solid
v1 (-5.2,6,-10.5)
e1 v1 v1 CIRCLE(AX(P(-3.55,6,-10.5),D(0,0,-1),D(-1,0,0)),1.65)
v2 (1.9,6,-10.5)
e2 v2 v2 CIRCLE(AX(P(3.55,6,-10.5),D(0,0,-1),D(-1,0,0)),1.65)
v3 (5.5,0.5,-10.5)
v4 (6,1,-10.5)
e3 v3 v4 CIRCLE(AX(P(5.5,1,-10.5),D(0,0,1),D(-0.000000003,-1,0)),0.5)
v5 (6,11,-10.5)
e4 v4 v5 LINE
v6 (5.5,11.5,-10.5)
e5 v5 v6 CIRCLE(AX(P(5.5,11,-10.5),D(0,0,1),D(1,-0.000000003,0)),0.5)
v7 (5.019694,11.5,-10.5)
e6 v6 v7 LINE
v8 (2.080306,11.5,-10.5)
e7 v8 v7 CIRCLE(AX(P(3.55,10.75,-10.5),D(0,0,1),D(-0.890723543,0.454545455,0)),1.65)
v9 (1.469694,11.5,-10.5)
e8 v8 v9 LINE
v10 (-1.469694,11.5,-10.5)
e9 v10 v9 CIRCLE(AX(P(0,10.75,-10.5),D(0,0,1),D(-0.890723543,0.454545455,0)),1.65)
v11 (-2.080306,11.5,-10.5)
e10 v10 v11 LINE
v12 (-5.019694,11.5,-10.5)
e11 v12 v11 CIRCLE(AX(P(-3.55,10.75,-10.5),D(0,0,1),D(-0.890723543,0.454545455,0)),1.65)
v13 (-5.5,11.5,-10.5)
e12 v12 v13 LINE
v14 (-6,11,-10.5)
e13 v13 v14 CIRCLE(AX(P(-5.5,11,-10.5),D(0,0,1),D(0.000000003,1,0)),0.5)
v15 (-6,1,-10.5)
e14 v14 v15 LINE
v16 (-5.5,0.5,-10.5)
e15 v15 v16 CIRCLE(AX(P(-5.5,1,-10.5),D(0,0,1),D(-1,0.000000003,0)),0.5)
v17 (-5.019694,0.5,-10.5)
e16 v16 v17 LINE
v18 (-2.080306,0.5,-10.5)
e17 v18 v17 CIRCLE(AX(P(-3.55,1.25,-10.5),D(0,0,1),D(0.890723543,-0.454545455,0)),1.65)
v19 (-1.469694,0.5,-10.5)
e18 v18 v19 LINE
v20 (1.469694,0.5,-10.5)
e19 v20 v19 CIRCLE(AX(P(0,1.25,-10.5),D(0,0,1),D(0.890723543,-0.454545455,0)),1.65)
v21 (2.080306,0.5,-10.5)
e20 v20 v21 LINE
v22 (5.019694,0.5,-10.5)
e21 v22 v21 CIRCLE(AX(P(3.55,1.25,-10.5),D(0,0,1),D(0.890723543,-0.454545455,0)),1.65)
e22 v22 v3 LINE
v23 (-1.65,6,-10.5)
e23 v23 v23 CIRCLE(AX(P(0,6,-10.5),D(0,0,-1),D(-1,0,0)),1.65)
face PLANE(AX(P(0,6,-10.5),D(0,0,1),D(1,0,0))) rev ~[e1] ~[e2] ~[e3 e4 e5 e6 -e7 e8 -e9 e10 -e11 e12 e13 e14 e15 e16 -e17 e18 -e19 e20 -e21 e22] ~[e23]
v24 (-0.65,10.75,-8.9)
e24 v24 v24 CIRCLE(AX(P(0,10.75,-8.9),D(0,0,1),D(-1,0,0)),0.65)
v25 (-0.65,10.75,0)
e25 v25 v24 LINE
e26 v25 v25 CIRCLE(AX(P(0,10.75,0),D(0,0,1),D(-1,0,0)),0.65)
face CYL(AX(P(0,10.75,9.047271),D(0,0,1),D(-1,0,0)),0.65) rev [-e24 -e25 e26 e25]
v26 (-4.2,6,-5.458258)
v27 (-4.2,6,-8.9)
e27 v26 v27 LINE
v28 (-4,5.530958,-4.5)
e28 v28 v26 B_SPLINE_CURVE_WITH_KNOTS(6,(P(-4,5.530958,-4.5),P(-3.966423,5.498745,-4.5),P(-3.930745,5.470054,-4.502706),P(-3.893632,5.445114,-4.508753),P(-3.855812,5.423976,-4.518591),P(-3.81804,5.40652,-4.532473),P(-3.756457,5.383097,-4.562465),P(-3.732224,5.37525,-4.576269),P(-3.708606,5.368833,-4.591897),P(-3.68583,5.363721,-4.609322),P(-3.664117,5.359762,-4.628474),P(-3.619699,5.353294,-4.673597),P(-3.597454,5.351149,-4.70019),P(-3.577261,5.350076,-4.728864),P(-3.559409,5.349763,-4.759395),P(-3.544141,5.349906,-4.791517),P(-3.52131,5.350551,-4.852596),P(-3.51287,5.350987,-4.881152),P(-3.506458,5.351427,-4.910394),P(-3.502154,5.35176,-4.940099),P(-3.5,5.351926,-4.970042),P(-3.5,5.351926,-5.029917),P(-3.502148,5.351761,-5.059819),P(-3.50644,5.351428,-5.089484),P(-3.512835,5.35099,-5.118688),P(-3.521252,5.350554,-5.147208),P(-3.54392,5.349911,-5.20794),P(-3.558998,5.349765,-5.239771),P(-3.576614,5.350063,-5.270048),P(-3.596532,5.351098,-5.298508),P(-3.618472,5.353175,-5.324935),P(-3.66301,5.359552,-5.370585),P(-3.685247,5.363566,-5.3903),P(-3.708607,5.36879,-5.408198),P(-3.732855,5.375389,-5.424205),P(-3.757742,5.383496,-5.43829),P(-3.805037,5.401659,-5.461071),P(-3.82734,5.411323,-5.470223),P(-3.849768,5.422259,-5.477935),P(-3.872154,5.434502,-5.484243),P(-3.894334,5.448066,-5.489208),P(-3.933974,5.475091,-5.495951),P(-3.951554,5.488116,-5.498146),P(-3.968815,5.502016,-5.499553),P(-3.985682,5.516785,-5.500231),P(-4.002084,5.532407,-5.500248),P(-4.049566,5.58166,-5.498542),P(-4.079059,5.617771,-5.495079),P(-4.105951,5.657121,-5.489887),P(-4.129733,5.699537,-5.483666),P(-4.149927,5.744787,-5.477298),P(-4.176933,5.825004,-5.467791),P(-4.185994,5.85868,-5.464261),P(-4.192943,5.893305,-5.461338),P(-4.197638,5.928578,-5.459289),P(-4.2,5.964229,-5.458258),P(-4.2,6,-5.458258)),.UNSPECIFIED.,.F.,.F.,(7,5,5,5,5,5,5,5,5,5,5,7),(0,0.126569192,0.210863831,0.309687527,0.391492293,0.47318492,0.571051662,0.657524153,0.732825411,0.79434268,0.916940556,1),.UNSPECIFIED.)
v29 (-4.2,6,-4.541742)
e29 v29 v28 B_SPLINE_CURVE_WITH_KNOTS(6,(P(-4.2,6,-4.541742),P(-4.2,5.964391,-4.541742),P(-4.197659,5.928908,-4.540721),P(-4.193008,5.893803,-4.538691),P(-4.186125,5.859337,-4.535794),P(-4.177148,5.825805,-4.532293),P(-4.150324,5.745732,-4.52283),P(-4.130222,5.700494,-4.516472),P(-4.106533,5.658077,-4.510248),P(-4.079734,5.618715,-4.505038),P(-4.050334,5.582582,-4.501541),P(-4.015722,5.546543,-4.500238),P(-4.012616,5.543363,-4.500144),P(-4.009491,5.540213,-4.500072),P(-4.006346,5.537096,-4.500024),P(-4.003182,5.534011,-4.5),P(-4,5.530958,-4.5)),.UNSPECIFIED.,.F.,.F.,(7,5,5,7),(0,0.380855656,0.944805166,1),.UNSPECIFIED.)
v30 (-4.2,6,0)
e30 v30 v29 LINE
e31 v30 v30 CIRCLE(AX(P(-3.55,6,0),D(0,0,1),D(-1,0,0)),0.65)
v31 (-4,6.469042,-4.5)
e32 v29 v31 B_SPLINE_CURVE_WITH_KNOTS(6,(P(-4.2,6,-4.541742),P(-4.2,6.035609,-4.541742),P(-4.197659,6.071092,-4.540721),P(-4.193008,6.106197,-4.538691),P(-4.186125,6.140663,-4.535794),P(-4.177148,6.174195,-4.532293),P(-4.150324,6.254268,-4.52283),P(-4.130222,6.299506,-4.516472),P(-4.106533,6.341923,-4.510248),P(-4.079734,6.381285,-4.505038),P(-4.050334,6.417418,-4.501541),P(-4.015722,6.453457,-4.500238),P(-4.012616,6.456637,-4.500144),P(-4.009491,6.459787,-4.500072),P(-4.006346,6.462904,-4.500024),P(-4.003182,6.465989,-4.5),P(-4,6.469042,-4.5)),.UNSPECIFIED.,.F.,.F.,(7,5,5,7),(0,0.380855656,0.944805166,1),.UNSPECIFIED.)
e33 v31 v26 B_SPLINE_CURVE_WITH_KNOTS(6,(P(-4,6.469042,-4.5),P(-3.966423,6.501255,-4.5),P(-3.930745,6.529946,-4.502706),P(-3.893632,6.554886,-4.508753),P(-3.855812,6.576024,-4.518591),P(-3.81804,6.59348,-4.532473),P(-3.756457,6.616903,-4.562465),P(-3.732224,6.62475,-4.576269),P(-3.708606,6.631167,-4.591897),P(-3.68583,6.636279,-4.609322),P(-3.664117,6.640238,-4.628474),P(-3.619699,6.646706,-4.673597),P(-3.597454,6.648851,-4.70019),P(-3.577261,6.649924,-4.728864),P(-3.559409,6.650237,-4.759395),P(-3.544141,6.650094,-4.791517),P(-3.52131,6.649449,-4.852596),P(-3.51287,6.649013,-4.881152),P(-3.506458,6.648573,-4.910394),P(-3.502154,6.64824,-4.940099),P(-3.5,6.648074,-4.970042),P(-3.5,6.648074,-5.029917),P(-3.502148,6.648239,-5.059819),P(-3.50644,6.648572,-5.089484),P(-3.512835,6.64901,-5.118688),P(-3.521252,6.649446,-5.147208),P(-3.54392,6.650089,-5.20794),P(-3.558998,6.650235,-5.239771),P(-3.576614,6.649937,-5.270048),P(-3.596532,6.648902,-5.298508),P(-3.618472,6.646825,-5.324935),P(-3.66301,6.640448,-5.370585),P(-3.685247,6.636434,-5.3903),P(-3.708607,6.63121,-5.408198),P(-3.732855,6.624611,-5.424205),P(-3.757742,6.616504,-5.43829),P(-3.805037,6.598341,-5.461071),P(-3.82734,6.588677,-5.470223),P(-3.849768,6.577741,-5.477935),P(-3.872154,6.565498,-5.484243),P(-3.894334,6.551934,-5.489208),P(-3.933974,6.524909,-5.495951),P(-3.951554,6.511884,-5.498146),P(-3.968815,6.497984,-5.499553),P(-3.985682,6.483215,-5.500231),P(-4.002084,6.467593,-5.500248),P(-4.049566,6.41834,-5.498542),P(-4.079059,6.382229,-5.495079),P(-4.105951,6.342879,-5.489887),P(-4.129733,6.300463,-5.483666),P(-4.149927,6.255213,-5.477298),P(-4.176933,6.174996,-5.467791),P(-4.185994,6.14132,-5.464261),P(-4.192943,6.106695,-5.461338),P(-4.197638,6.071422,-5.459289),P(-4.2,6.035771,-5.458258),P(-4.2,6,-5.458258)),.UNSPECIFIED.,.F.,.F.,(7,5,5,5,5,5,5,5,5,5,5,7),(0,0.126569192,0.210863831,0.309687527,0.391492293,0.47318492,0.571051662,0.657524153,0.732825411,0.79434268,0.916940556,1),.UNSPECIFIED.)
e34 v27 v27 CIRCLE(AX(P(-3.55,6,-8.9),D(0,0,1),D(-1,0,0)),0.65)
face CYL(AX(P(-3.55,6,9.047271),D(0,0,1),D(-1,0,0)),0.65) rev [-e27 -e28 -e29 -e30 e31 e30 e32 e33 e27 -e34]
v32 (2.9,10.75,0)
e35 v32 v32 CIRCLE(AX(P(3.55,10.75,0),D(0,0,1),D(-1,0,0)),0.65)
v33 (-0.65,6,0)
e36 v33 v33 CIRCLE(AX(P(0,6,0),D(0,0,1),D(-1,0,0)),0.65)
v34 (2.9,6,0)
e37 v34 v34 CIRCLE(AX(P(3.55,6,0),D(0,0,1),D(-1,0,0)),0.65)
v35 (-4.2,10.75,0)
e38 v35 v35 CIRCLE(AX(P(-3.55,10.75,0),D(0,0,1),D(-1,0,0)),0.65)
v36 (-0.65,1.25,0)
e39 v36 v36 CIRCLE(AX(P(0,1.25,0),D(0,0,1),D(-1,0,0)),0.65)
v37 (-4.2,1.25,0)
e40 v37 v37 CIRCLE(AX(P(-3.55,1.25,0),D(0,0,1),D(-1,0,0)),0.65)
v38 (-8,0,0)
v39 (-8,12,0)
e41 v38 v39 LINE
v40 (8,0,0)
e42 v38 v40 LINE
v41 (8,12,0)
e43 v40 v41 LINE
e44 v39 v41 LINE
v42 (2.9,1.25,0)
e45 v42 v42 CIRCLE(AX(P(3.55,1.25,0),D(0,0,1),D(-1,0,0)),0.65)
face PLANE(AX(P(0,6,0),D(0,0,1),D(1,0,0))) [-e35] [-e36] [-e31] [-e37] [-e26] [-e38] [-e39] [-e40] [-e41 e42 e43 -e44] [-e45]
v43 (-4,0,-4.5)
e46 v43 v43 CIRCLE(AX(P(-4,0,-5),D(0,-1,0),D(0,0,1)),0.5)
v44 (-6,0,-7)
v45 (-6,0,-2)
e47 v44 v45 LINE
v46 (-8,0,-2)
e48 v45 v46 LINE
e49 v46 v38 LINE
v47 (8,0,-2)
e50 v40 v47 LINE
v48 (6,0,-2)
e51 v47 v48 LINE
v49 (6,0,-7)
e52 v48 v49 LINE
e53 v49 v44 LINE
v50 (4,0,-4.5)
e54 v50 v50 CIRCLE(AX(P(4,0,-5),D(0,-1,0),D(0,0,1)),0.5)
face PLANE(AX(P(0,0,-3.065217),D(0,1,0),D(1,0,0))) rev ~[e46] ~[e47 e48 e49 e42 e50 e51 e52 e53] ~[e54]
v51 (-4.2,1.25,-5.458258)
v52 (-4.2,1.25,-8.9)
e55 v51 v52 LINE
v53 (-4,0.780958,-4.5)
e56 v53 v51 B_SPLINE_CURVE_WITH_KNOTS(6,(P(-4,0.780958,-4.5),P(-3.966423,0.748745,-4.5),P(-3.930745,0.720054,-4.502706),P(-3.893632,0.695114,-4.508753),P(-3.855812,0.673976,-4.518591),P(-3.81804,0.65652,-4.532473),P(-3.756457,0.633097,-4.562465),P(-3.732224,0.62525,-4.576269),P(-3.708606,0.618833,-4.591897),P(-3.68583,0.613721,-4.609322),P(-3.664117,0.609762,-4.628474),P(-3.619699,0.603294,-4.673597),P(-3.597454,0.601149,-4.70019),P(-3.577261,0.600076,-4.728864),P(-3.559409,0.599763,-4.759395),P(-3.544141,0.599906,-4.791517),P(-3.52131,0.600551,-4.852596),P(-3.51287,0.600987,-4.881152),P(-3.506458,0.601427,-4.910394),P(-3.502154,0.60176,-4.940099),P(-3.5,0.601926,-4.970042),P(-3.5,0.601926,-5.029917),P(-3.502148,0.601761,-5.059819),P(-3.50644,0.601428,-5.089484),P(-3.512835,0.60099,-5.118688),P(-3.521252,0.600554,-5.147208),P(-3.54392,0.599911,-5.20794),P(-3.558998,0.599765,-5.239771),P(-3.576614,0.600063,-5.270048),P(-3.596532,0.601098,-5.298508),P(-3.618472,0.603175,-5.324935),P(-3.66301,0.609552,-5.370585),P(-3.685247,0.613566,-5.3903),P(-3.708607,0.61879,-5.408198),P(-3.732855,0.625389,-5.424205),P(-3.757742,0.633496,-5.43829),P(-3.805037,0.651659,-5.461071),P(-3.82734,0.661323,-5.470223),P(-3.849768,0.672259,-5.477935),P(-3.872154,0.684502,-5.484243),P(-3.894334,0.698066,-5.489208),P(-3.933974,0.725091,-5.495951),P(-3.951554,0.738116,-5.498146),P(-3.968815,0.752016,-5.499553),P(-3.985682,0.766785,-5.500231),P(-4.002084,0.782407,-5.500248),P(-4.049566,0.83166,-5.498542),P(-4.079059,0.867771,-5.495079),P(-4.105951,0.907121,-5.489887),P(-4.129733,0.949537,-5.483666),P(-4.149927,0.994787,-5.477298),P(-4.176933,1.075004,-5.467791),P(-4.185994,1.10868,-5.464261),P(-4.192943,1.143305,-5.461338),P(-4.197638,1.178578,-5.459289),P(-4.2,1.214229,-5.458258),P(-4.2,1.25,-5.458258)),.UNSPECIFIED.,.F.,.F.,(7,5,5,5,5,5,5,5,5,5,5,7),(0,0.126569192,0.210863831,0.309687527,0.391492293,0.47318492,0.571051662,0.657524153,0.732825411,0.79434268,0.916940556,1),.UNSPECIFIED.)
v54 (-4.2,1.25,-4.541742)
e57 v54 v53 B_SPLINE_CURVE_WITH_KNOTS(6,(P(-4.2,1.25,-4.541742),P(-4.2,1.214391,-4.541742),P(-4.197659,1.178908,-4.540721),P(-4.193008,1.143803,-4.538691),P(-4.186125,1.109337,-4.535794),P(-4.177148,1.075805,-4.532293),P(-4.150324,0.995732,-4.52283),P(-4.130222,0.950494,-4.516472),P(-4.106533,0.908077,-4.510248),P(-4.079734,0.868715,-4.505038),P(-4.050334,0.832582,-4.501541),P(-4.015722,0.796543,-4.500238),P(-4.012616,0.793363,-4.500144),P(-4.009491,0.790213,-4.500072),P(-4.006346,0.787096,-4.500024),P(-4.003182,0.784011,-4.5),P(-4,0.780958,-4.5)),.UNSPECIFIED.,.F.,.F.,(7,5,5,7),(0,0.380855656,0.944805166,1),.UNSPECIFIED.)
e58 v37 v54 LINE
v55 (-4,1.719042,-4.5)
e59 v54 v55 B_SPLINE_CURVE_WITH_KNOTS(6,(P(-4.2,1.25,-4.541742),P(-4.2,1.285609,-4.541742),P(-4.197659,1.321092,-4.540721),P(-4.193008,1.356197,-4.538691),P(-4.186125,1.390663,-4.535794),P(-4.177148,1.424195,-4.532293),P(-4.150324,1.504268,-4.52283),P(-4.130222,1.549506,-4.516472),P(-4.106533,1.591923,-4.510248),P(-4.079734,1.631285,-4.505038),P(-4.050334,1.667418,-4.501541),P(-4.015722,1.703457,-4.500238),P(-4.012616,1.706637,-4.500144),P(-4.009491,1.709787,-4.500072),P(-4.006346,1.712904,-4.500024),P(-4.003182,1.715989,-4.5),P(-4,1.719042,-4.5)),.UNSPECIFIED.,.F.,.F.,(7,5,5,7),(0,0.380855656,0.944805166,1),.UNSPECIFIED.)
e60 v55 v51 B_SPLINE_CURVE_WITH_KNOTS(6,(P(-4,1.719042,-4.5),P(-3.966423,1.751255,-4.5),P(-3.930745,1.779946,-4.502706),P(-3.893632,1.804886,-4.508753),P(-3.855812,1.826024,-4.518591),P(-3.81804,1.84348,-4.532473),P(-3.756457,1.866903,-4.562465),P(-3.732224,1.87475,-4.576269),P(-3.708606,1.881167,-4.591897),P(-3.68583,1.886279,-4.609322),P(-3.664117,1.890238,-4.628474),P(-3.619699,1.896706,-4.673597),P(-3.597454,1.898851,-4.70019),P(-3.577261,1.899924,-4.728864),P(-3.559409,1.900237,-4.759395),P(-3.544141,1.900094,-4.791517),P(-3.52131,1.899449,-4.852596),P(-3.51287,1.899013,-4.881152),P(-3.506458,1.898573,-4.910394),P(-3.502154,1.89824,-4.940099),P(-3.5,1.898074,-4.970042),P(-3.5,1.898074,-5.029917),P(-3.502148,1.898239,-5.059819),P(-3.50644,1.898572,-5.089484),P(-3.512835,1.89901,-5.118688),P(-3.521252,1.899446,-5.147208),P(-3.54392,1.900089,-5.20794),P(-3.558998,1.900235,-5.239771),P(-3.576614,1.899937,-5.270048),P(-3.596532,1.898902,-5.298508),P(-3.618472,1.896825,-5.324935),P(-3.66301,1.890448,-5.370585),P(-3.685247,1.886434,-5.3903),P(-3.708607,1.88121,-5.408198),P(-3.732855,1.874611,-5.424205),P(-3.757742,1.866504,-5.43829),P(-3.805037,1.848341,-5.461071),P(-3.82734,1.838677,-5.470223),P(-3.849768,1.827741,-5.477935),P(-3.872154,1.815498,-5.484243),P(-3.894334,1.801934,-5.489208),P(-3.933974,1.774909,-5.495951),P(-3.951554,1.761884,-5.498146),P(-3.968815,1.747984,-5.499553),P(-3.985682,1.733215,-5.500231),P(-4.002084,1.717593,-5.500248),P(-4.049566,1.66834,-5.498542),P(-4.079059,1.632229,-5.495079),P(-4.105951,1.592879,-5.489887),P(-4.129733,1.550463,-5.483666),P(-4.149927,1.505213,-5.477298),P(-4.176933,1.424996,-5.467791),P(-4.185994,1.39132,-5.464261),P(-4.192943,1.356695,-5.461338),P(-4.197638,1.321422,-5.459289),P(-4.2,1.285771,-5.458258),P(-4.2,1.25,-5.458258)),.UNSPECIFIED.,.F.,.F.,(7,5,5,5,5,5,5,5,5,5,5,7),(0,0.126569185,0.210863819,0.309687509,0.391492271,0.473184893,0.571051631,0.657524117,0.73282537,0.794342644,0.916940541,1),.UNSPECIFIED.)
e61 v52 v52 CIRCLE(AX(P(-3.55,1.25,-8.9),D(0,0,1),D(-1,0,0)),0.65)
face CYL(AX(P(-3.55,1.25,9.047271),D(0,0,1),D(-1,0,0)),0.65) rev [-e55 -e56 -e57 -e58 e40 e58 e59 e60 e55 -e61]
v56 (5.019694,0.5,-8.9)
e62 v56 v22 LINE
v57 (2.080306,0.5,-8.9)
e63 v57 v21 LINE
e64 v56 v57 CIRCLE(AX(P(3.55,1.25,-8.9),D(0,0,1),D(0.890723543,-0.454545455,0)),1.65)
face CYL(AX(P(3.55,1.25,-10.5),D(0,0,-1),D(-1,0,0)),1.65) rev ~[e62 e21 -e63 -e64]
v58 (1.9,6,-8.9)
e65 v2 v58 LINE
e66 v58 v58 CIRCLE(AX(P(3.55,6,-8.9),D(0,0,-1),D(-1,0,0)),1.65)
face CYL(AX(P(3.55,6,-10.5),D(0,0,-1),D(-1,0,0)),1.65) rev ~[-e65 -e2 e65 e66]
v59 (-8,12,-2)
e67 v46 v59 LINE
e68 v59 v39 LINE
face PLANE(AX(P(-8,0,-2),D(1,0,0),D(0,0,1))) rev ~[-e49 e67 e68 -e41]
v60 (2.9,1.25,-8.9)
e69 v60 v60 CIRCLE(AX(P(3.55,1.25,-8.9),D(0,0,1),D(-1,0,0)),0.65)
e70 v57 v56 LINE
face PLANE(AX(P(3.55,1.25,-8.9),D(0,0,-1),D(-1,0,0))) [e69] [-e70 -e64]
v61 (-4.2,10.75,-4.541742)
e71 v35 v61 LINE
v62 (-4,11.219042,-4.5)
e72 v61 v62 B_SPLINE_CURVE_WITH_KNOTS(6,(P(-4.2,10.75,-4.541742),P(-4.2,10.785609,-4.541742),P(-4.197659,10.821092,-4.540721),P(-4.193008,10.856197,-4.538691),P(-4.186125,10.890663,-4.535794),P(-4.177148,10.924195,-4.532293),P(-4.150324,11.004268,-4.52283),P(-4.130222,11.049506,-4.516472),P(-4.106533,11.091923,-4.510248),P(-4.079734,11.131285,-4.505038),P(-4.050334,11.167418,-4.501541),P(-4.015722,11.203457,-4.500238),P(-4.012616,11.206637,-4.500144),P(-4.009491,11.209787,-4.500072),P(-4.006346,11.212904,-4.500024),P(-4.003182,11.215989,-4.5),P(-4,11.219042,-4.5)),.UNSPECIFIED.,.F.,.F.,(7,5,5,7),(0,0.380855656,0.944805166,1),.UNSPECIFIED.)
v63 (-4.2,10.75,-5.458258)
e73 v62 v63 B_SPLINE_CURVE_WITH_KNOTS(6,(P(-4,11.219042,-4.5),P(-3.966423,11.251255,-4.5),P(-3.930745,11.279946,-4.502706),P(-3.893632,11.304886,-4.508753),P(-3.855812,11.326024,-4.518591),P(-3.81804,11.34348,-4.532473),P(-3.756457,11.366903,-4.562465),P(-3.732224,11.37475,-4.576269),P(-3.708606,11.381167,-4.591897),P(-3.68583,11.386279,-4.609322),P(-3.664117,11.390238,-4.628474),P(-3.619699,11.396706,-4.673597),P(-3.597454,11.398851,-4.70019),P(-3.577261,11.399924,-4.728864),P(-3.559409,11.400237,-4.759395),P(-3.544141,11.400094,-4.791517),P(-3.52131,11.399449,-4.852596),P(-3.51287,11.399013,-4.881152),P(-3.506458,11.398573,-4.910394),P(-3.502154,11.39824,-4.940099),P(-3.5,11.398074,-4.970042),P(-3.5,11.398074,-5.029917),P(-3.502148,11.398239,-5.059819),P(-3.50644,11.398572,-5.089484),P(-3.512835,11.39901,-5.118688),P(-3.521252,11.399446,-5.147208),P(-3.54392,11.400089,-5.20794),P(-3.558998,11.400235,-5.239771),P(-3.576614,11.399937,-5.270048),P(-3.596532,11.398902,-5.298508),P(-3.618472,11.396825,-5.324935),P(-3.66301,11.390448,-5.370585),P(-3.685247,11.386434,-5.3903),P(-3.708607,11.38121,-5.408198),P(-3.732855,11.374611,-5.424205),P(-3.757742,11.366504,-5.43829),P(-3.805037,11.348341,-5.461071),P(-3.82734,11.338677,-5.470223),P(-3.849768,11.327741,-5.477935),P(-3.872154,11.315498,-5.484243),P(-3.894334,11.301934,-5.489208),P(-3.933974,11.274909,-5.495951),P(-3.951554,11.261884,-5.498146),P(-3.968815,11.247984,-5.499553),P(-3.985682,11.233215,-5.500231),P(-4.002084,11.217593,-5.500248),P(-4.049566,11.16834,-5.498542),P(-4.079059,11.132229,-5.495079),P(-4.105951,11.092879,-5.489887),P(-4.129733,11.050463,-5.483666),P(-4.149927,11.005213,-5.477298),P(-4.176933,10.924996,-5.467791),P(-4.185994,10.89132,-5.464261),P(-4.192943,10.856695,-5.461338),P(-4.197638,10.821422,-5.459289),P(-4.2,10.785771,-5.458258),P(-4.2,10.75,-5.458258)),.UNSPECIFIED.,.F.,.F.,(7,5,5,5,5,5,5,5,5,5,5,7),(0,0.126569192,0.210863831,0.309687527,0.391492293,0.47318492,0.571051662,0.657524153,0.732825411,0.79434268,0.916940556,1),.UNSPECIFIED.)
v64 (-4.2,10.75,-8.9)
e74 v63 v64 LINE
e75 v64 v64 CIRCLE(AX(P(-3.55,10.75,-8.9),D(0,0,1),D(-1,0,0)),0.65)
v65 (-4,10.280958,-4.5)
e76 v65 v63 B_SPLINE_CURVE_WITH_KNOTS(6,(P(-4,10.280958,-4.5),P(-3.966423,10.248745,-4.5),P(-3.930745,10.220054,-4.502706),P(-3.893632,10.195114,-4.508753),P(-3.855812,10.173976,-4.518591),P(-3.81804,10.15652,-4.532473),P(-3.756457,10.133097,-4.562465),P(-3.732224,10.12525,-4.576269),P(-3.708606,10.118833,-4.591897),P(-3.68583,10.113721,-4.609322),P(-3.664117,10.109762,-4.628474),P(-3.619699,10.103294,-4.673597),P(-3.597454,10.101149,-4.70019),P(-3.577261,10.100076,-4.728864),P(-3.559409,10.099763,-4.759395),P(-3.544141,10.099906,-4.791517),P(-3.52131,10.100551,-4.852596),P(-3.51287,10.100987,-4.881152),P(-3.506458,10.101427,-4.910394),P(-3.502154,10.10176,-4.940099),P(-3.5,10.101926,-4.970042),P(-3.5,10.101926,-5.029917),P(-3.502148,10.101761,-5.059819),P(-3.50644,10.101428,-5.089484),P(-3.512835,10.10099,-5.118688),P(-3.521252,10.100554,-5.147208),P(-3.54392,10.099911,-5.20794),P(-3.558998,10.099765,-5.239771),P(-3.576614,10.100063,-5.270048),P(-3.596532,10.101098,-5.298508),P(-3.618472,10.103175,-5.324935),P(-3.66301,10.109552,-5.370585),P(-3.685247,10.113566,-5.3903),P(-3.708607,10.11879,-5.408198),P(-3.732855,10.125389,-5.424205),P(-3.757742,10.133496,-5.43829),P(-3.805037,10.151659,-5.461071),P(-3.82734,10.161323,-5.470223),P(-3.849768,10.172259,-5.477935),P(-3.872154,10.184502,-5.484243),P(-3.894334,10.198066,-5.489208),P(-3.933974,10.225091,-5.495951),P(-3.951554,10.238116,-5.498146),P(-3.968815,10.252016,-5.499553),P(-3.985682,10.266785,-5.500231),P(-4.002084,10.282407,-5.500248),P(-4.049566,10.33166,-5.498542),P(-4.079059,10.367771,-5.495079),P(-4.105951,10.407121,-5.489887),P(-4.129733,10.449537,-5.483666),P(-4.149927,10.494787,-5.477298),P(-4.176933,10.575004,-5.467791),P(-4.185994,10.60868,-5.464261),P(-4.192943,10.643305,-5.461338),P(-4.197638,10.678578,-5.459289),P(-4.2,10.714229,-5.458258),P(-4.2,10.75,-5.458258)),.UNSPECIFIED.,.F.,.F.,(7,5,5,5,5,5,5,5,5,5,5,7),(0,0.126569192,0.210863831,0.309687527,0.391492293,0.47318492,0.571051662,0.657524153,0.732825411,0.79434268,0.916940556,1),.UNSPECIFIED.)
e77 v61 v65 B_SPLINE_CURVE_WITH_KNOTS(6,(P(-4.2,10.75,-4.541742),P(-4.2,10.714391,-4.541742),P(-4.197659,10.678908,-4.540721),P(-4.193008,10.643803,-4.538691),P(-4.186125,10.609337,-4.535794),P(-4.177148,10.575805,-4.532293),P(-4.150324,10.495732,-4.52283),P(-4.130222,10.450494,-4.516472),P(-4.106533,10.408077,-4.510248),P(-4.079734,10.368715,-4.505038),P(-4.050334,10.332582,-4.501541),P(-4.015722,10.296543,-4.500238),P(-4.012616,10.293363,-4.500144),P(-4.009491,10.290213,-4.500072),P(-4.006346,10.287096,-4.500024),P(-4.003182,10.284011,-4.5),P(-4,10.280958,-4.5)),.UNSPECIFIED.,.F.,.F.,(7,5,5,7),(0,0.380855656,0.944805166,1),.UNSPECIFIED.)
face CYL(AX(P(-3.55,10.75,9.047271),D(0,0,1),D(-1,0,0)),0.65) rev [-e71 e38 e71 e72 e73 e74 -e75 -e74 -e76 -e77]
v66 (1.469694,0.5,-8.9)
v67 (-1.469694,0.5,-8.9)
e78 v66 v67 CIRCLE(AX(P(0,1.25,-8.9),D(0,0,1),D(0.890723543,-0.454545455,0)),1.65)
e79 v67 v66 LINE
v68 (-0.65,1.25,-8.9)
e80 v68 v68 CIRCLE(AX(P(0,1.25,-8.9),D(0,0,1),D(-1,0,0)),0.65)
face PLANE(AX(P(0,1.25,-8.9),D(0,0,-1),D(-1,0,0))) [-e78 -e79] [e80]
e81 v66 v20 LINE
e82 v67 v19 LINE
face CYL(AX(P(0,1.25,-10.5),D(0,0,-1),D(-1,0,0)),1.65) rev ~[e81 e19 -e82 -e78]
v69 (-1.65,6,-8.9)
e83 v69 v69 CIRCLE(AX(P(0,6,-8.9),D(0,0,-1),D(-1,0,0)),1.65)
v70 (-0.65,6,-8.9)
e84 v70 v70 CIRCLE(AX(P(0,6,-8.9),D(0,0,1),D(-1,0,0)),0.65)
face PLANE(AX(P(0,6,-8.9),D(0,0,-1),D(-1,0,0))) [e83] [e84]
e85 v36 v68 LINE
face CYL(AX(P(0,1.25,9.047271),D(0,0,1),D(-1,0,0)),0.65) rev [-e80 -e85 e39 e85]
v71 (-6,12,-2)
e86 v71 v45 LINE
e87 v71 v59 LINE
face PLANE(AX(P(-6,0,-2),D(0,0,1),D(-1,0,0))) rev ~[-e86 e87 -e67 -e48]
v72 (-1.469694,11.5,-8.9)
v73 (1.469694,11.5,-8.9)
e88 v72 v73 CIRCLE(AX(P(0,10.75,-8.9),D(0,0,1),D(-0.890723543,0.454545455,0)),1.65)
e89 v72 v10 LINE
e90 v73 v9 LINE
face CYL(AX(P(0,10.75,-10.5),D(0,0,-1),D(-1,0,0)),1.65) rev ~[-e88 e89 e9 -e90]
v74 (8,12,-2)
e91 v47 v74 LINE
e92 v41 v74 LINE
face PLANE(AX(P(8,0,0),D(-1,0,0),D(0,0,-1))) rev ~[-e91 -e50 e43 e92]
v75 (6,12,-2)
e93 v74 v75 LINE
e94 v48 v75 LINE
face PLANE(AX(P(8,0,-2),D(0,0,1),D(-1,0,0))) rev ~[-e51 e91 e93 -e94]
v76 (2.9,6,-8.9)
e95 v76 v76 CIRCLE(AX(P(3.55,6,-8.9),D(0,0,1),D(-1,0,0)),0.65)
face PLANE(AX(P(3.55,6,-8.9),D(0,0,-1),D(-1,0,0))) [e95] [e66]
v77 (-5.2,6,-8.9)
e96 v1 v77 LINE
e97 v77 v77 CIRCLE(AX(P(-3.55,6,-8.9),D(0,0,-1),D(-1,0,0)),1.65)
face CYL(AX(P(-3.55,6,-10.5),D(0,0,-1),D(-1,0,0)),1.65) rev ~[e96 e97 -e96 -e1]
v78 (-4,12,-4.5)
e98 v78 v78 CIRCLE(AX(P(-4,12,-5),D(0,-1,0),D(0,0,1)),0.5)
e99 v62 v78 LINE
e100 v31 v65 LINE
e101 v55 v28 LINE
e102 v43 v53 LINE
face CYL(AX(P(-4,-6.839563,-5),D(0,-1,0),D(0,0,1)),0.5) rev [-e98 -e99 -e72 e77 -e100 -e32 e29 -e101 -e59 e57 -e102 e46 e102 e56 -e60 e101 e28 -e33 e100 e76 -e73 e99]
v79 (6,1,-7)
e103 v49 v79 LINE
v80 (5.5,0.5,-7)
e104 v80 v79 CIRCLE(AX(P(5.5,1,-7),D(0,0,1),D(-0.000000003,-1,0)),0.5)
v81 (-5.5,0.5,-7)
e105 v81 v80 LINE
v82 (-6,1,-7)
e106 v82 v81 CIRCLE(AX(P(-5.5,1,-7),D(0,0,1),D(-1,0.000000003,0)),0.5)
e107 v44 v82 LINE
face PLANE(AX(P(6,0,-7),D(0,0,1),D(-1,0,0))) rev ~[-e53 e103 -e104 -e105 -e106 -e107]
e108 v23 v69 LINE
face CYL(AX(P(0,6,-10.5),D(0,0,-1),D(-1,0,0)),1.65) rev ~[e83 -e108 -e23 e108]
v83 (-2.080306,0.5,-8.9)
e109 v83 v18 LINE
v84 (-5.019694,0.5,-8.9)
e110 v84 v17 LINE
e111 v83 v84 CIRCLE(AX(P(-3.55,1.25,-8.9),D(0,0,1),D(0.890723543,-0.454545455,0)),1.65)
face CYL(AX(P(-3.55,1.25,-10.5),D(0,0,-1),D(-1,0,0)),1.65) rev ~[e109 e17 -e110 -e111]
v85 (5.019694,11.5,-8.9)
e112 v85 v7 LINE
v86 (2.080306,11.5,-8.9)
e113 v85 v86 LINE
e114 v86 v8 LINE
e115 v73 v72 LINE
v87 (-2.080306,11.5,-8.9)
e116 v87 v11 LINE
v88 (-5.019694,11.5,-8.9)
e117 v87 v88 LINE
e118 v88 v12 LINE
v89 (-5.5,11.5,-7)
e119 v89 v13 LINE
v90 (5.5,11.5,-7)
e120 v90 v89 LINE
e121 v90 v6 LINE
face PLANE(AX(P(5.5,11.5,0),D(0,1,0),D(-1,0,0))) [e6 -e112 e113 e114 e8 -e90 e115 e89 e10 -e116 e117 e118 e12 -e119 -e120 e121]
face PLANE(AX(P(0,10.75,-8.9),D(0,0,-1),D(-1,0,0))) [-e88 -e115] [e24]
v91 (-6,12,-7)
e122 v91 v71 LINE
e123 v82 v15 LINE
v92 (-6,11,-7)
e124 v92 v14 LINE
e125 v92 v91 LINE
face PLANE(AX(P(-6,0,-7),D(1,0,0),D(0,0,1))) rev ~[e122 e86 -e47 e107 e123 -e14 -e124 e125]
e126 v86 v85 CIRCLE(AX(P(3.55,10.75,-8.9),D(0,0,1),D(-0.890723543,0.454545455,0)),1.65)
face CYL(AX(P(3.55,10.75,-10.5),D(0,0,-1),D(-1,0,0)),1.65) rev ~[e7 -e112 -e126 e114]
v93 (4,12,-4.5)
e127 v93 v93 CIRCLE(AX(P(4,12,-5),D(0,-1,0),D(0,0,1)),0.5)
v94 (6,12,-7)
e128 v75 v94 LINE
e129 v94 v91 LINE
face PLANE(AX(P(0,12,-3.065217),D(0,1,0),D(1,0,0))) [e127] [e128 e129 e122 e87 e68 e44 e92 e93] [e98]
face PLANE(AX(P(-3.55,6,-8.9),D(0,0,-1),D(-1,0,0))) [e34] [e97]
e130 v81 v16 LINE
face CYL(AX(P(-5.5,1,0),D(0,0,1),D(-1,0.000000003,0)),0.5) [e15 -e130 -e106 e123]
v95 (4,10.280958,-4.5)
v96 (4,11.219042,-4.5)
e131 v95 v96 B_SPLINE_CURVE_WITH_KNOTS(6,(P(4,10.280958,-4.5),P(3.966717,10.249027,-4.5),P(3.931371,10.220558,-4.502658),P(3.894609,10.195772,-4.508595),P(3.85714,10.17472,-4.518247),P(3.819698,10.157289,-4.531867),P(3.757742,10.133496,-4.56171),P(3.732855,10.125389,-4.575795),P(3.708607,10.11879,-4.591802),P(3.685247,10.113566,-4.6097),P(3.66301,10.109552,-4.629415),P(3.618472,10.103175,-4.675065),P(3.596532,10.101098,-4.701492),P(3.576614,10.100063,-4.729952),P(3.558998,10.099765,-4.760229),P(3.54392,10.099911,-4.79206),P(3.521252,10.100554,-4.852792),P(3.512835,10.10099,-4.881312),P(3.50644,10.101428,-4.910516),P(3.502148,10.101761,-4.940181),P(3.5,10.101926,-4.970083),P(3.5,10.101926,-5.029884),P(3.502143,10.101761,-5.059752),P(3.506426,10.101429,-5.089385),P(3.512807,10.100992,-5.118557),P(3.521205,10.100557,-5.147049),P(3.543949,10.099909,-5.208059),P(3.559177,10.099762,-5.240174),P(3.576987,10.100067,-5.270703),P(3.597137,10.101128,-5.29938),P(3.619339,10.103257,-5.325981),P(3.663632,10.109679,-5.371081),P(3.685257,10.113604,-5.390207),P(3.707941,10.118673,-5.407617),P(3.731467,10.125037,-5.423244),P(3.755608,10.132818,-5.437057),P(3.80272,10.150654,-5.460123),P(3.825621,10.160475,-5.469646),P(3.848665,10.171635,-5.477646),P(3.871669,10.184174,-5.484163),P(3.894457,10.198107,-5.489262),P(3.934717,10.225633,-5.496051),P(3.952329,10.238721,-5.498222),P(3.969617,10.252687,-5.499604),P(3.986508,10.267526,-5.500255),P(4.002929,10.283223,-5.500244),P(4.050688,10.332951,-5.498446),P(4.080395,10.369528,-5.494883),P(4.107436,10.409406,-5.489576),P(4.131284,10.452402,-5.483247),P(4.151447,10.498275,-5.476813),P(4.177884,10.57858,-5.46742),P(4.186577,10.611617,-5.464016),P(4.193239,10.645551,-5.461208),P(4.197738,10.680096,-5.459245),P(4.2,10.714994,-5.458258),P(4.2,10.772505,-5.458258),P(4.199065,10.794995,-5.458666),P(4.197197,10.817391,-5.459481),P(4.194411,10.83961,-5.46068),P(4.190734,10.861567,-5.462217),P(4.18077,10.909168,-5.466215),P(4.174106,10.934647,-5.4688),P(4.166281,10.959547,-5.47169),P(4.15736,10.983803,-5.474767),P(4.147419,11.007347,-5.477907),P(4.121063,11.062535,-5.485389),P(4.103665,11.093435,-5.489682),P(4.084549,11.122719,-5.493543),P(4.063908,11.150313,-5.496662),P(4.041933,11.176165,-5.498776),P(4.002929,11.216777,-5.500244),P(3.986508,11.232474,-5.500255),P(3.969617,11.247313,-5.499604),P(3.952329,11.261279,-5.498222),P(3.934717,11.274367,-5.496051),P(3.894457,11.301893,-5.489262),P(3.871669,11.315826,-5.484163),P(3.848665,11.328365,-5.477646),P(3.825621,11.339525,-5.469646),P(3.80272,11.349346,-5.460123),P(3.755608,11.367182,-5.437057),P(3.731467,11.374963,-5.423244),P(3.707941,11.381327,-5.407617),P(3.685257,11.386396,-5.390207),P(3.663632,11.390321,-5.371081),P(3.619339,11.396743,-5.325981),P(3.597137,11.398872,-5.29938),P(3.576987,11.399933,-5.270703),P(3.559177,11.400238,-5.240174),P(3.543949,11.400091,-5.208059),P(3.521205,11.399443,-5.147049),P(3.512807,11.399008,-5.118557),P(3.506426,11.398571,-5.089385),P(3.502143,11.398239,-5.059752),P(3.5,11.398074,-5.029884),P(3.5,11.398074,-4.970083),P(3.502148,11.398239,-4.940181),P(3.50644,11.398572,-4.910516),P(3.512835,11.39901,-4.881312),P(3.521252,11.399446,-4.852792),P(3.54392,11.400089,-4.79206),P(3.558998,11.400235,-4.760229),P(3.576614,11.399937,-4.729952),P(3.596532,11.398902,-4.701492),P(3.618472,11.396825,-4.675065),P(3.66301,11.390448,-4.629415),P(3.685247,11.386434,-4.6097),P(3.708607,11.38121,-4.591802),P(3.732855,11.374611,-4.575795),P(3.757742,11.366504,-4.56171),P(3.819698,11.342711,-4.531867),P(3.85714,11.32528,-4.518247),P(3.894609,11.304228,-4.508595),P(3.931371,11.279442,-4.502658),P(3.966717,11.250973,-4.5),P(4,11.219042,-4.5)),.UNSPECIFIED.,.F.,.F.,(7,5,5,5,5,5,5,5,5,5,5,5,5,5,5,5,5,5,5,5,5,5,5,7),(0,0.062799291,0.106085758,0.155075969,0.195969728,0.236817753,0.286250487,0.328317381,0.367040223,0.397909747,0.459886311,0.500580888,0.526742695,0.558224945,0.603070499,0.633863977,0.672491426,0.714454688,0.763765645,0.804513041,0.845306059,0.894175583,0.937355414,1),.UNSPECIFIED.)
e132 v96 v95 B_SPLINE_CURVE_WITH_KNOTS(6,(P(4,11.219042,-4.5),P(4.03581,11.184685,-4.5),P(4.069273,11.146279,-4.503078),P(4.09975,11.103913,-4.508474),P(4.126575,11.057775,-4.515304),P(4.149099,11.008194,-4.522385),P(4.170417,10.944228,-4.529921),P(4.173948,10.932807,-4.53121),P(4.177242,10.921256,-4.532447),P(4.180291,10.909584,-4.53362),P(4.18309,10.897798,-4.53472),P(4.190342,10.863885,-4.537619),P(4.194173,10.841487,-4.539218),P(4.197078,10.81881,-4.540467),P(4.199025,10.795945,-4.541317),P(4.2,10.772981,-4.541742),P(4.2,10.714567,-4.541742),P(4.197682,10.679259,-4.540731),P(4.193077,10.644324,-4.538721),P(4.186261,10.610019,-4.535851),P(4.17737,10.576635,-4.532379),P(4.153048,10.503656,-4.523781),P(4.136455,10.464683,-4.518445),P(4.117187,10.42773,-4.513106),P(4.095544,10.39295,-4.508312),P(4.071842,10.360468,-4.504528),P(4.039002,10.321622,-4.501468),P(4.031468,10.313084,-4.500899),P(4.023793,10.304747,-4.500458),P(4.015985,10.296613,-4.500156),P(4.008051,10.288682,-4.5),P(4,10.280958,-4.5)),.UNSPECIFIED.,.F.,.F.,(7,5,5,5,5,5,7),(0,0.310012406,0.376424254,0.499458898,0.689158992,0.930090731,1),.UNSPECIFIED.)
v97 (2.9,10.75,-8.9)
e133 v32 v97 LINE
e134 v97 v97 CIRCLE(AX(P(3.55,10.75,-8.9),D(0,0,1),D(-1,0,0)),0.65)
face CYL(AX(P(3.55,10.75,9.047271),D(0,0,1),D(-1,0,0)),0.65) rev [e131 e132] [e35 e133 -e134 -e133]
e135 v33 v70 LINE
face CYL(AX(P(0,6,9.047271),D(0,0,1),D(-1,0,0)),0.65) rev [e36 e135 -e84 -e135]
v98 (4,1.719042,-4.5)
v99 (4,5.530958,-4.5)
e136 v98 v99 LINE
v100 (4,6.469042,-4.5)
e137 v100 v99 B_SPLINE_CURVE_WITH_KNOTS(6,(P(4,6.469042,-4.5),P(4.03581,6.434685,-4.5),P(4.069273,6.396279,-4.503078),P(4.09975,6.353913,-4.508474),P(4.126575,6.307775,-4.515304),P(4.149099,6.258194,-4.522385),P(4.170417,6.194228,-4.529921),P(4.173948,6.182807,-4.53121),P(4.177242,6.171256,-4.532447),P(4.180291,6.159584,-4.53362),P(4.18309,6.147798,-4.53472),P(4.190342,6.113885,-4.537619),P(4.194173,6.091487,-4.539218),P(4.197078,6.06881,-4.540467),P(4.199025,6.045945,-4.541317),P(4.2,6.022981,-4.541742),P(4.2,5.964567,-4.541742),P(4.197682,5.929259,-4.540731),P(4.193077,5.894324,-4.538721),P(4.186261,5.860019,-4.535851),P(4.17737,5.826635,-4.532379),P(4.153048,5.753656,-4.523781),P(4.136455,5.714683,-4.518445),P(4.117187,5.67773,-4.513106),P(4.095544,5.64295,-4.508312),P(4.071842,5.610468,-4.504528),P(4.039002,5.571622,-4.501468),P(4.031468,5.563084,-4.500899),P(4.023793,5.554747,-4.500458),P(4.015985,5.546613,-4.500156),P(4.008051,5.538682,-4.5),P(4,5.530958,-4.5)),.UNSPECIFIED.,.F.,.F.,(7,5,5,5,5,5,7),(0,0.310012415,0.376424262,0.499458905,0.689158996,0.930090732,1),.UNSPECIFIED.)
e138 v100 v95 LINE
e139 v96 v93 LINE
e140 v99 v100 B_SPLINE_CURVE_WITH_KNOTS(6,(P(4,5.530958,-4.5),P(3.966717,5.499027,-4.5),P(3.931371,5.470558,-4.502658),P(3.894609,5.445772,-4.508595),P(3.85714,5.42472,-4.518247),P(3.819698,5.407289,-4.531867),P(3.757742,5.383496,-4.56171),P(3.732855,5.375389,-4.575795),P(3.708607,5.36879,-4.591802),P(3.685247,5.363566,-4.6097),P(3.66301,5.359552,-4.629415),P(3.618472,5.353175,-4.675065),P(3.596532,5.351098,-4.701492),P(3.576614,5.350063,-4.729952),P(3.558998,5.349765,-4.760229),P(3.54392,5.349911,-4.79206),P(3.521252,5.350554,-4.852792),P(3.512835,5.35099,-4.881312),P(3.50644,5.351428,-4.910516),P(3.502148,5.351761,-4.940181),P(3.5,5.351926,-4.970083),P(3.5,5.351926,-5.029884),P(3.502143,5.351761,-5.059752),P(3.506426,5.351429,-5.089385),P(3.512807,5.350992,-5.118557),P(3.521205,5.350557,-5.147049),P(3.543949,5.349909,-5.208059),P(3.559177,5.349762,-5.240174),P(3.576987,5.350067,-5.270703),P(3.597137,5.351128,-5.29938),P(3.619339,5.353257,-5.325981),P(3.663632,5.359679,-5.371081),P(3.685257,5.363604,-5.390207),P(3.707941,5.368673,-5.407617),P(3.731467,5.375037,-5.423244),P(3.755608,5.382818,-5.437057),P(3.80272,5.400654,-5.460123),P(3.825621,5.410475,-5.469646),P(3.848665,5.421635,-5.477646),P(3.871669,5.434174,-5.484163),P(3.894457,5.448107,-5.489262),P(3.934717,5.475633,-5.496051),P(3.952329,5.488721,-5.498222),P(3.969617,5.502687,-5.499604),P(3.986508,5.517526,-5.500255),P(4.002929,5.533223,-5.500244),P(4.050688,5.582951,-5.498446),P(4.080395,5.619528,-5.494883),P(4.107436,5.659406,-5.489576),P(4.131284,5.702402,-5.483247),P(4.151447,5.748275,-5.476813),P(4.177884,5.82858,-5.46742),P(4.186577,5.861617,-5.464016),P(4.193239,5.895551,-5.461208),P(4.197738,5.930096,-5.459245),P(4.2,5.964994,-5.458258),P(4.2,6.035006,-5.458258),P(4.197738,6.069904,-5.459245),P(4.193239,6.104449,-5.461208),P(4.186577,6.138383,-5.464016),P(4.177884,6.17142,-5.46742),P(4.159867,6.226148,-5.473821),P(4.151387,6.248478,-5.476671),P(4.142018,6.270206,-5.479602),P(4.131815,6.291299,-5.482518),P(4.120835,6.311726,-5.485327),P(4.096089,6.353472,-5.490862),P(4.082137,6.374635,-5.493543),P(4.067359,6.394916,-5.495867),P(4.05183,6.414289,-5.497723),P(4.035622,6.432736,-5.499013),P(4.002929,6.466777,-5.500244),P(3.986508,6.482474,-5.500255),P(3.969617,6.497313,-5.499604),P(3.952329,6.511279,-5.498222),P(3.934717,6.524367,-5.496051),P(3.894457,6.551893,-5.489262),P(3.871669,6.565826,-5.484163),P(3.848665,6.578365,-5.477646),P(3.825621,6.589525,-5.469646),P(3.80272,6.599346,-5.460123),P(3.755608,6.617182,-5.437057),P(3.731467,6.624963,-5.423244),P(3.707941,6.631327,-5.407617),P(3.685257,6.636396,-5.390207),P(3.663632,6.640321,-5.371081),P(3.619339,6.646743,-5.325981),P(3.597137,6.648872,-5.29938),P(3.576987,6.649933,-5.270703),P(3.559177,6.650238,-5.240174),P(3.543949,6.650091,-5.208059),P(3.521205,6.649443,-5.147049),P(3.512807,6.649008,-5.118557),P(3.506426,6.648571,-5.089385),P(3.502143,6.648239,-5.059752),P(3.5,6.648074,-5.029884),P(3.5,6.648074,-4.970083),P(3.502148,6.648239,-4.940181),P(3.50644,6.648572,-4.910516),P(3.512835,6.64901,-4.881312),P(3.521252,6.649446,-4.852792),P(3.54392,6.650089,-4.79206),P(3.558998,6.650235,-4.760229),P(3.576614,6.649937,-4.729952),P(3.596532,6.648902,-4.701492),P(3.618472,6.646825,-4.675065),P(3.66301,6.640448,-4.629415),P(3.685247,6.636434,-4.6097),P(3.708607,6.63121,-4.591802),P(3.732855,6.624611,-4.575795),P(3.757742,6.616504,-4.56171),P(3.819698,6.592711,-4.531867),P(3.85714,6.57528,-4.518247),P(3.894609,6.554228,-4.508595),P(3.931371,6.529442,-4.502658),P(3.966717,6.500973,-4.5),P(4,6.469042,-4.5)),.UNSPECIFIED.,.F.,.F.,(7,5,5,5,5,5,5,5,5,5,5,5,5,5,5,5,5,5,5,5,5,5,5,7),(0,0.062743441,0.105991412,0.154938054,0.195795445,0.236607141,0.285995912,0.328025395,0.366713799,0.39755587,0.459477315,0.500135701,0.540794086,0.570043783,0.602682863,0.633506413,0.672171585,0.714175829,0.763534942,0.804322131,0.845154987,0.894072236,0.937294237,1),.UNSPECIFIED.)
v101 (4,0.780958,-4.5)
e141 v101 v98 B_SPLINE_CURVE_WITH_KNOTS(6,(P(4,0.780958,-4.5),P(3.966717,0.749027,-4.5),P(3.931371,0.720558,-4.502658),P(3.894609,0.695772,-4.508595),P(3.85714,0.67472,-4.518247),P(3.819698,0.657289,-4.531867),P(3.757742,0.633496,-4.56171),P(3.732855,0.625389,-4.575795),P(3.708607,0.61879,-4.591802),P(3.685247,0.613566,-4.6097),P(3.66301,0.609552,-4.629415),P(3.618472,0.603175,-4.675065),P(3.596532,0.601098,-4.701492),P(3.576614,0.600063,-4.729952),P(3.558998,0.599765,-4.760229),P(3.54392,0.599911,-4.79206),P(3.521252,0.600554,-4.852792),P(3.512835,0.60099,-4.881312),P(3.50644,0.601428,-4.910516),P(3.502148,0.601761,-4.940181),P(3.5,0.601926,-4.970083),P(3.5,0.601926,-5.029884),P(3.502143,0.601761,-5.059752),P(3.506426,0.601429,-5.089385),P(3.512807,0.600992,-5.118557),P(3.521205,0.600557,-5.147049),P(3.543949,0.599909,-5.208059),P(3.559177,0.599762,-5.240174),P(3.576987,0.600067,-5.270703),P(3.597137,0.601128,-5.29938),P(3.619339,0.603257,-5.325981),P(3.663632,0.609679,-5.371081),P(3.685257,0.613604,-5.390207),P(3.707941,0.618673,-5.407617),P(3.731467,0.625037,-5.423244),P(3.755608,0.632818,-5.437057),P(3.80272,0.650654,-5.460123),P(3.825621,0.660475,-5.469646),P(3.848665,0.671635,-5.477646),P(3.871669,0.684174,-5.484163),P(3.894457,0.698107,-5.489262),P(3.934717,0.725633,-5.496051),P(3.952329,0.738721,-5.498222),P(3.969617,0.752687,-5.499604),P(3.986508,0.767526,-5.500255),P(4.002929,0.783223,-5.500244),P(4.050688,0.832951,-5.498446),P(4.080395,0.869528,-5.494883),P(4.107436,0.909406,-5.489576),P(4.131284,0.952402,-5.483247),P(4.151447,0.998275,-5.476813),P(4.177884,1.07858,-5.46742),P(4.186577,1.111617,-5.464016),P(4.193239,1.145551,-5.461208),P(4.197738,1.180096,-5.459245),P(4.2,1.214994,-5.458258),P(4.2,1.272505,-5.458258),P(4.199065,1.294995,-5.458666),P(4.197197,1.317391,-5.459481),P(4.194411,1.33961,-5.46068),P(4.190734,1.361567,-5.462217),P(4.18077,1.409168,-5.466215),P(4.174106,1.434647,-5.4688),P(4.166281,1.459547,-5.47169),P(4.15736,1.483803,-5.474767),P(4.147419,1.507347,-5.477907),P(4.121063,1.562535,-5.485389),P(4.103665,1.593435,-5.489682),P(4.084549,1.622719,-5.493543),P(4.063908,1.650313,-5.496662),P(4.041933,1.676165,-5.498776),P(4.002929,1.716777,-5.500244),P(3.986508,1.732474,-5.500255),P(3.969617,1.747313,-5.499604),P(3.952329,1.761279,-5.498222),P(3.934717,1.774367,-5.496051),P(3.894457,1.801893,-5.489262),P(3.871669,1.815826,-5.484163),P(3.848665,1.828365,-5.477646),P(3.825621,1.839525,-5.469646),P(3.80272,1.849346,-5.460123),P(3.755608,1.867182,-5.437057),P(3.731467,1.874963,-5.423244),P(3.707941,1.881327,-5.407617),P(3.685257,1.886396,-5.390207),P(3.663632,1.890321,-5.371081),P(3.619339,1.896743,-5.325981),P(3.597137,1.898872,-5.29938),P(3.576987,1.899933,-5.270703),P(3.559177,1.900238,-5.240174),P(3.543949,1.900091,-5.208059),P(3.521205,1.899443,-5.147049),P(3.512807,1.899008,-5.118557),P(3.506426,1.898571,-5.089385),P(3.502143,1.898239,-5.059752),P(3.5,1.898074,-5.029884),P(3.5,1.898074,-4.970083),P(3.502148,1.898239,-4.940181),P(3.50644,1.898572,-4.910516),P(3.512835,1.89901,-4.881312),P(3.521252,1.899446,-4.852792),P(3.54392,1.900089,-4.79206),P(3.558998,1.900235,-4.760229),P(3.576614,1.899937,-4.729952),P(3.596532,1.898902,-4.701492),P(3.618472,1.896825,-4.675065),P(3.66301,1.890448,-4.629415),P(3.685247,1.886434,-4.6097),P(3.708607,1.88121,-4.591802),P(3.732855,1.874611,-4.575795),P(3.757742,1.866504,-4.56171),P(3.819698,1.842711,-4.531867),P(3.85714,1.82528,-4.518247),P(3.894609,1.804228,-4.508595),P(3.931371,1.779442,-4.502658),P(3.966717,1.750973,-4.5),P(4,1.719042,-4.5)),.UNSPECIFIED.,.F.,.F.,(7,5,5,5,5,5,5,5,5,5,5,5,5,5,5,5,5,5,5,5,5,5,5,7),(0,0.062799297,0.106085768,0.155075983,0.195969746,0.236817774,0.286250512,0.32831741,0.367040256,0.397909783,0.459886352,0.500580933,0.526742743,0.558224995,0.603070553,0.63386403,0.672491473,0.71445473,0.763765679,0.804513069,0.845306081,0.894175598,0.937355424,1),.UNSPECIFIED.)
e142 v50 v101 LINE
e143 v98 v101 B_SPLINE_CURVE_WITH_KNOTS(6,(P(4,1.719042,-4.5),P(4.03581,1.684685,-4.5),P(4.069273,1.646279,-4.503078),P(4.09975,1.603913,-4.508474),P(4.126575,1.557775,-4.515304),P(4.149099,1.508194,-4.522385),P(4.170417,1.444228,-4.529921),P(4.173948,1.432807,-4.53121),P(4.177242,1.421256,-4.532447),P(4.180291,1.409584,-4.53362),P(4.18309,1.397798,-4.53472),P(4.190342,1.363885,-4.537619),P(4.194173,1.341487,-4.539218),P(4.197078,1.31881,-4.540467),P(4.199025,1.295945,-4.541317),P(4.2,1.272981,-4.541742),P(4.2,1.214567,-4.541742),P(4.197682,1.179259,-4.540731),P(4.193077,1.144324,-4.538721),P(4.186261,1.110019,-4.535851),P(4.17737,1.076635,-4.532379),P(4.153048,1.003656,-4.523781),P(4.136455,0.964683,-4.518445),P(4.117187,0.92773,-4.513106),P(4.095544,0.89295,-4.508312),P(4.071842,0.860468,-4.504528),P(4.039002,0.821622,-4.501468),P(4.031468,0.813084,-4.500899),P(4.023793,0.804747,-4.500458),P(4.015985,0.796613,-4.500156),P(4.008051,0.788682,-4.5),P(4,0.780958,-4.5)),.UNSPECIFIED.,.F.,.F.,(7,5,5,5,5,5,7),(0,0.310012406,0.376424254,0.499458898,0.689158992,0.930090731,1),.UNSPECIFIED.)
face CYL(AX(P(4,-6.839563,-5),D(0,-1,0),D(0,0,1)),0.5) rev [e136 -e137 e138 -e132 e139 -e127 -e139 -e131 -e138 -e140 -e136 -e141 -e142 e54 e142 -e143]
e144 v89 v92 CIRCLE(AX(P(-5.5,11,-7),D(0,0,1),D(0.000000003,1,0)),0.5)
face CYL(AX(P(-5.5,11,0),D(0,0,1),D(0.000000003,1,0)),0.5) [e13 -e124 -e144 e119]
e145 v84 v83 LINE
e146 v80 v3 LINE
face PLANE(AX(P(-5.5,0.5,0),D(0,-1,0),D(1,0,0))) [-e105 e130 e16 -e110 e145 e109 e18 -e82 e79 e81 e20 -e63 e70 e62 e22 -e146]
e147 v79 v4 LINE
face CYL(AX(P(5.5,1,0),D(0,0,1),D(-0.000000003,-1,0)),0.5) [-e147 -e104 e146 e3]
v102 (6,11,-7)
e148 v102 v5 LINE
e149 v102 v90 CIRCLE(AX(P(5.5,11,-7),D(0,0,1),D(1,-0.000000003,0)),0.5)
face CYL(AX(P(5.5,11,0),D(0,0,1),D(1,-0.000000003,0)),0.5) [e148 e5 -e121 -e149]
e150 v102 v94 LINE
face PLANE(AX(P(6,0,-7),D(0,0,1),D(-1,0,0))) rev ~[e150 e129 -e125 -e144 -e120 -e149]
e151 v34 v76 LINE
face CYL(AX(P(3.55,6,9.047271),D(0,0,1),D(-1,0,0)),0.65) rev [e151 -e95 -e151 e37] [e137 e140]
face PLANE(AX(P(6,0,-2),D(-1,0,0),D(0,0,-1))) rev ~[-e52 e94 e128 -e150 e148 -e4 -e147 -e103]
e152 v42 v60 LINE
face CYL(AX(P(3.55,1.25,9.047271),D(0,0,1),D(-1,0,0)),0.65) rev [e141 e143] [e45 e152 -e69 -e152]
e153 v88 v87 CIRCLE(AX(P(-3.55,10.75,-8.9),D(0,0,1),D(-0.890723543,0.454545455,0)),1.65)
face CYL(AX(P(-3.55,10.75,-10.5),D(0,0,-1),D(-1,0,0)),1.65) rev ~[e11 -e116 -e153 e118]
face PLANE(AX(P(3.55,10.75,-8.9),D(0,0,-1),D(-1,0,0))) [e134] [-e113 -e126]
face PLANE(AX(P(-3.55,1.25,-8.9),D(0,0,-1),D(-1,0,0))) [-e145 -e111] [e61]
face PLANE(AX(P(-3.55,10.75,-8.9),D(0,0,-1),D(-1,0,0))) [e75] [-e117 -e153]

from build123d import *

# Parameters (mm, degrees)
BOSS_EXTRUDE1_DEPTH     = 12
BOSS_EXTRUDE2_DEPTH     = 10.5
CUT_EXTRUDE1_DEPTH      = 18.839562775
CUT_EXTRUDE1_DEPTH_BACK = 18.839562775
SKETCH2_R               = 0.5
SKETCH5_R               = 1.65
CUT_EXTRUDE2_DEPTH      = 1.6
CUT_EXTRUDE5_DEPTH      = 17.947271167
CUT_EXTRUDE5_DEPTH_BACK = 17.947271167
SKETCH7_R               = 0.65


with BuildPart() as part:
    # Sketch1 → Boss-Extrude1 (new body)
    with BuildSketch(Plane(origin=(0, 0, 0), x_dir=(1, 0, 0), z_dir=(0, 1, 0))):
        Polygon((0, 0), (8, 0), (8, 2), (6, 2), (6, 7), (-6, 7), (-6, 2), (-8, 2), (-8, 0), align=None)
    extrude(amount=BOSS_EXTRUDE1_DEPTH)

    # Sketch4 → Boss-Extrude2 (add)
    with BuildSketch(Plane.XY):
        with BuildLine():
            Line((-6, 11), (-6, 1))
            ThreePointArc((-6, 1), (-5.853553391, 0.646446609), (-5.5, 0.5))
            Line((-5.5, 0.5), (5.5, 0.5))
            ThreePointArc((5.5, 0.5), (5.853553391, 0.646446609), (6, 1))
            Line((6, 1), (6, 11))
            ThreePointArc((6, 11), (5.853553391, 11.353553391), (5.5, 11.5))
            Line((5.5, 11.5), (-5.5, 11.5))
            ThreePointArc((-5.5, 11.5), (-5.853553391, 11.353553391), (-6, 11))
        make_face()
    extrude(amount=-BOSS_EXTRUDE2_DEPTH)

    # Sketch2 → Cut-Extrude1 (cut, two sides: drawn at the far end of the back side and taken through both)
    with BuildSketch(Plane(origin=(0, 12, 0), x_dir=(1, 0, 0), z_dir=(0, 1, 0)).offset(-CUT_EXTRUDE1_DEPTH_BACK)):
        with Locations(Location((-4, 5, 0), (0, 0, 270))):
            Circle(SKETCH2_R)
        with Locations(Location((4, 5, 0), (0, 0, 270))):
            Circle(SKETCH2_R)
    extrude(amount=CUT_EXTRUDE1_DEPTH + CUT_EXTRUDE1_DEPTH_BACK, mode=Mode.SUBTRACT)

    # Sketch5 → Cut-Extrude2 (cut)
    with BuildSketch(Plane(origin=(0, 0, -10.5), x_dir=(-1, 0, 0), z_dir=(0, 0, -1))):
        with Locations((3.55, 6)):
            Circle(SKETCH5_R)
        with Locations((-3.55, 6)):
            Circle(SKETCH5_R)
        with Locations((0, 6)):
            Circle(SKETCH5_R)
        with Locations((-3.55, 10.75)):
            Circle(SKETCH5_R)
        with Locations((0, 10.75)):
            Circle(SKETCH5_R)
        with Locations((3.55, 10.75)):
            Circle(SKETCH5_R)
        with Locations((-3.55, 1.25)):
            Circle(SKETCH5_R)
        with Locations((0, 1.25)):
            Circle(SKETCH5_R)
        with Locations((3.55, 1.25)):
            Circle(SKETCH5_R)
    extrude(amount=-CUT_EXTRUDE2_DEPTH, mode=Mode.SUBTRACT)

    # Sketch7 → Cut-Extrude5 (cut, two sides: drawn at the far end of the back side and taken through both)
    with BuildSketch(Plane(origin=(0, 0, -8.9), x_dir=(-1, 0, 0), z_dir=(0, 0, -1)).offset(-CUT_EXTRUDE5_DEPTH_BACK)):
        with Locations((-3.55, 6)):
            Circle(SKETCH7_R)
        with Locations((3.55, 6)):
            Circle(SKETCH7_R)
        with Locations((0, 6)):
            Circle(SKETCH7_R)
        with Locations((-3.55, 1.25)):
            Circle(SKETCH7_R)
        with Locations((0, 1.25)):
            Circle(SKETCH7_R)
        with Locations((3.55, 1.25)):
            Circle(SKETCH7_R)
        with Locations((3.55, 10.75)):
            Circle(SKETCH7_R)
        with Locations((0, 10.75)):
            Circle(SKETCH7_R)
        with Locations((-3.55, 10.75)):
            Circle(SKETCH7_R)
    extrude(amount=CUT_EXTRUDE5_DEPTH + CUT_EXTRUDE5_DEPTH_BACK, mode=Mode.SUBTRACT)


solid = part.part
